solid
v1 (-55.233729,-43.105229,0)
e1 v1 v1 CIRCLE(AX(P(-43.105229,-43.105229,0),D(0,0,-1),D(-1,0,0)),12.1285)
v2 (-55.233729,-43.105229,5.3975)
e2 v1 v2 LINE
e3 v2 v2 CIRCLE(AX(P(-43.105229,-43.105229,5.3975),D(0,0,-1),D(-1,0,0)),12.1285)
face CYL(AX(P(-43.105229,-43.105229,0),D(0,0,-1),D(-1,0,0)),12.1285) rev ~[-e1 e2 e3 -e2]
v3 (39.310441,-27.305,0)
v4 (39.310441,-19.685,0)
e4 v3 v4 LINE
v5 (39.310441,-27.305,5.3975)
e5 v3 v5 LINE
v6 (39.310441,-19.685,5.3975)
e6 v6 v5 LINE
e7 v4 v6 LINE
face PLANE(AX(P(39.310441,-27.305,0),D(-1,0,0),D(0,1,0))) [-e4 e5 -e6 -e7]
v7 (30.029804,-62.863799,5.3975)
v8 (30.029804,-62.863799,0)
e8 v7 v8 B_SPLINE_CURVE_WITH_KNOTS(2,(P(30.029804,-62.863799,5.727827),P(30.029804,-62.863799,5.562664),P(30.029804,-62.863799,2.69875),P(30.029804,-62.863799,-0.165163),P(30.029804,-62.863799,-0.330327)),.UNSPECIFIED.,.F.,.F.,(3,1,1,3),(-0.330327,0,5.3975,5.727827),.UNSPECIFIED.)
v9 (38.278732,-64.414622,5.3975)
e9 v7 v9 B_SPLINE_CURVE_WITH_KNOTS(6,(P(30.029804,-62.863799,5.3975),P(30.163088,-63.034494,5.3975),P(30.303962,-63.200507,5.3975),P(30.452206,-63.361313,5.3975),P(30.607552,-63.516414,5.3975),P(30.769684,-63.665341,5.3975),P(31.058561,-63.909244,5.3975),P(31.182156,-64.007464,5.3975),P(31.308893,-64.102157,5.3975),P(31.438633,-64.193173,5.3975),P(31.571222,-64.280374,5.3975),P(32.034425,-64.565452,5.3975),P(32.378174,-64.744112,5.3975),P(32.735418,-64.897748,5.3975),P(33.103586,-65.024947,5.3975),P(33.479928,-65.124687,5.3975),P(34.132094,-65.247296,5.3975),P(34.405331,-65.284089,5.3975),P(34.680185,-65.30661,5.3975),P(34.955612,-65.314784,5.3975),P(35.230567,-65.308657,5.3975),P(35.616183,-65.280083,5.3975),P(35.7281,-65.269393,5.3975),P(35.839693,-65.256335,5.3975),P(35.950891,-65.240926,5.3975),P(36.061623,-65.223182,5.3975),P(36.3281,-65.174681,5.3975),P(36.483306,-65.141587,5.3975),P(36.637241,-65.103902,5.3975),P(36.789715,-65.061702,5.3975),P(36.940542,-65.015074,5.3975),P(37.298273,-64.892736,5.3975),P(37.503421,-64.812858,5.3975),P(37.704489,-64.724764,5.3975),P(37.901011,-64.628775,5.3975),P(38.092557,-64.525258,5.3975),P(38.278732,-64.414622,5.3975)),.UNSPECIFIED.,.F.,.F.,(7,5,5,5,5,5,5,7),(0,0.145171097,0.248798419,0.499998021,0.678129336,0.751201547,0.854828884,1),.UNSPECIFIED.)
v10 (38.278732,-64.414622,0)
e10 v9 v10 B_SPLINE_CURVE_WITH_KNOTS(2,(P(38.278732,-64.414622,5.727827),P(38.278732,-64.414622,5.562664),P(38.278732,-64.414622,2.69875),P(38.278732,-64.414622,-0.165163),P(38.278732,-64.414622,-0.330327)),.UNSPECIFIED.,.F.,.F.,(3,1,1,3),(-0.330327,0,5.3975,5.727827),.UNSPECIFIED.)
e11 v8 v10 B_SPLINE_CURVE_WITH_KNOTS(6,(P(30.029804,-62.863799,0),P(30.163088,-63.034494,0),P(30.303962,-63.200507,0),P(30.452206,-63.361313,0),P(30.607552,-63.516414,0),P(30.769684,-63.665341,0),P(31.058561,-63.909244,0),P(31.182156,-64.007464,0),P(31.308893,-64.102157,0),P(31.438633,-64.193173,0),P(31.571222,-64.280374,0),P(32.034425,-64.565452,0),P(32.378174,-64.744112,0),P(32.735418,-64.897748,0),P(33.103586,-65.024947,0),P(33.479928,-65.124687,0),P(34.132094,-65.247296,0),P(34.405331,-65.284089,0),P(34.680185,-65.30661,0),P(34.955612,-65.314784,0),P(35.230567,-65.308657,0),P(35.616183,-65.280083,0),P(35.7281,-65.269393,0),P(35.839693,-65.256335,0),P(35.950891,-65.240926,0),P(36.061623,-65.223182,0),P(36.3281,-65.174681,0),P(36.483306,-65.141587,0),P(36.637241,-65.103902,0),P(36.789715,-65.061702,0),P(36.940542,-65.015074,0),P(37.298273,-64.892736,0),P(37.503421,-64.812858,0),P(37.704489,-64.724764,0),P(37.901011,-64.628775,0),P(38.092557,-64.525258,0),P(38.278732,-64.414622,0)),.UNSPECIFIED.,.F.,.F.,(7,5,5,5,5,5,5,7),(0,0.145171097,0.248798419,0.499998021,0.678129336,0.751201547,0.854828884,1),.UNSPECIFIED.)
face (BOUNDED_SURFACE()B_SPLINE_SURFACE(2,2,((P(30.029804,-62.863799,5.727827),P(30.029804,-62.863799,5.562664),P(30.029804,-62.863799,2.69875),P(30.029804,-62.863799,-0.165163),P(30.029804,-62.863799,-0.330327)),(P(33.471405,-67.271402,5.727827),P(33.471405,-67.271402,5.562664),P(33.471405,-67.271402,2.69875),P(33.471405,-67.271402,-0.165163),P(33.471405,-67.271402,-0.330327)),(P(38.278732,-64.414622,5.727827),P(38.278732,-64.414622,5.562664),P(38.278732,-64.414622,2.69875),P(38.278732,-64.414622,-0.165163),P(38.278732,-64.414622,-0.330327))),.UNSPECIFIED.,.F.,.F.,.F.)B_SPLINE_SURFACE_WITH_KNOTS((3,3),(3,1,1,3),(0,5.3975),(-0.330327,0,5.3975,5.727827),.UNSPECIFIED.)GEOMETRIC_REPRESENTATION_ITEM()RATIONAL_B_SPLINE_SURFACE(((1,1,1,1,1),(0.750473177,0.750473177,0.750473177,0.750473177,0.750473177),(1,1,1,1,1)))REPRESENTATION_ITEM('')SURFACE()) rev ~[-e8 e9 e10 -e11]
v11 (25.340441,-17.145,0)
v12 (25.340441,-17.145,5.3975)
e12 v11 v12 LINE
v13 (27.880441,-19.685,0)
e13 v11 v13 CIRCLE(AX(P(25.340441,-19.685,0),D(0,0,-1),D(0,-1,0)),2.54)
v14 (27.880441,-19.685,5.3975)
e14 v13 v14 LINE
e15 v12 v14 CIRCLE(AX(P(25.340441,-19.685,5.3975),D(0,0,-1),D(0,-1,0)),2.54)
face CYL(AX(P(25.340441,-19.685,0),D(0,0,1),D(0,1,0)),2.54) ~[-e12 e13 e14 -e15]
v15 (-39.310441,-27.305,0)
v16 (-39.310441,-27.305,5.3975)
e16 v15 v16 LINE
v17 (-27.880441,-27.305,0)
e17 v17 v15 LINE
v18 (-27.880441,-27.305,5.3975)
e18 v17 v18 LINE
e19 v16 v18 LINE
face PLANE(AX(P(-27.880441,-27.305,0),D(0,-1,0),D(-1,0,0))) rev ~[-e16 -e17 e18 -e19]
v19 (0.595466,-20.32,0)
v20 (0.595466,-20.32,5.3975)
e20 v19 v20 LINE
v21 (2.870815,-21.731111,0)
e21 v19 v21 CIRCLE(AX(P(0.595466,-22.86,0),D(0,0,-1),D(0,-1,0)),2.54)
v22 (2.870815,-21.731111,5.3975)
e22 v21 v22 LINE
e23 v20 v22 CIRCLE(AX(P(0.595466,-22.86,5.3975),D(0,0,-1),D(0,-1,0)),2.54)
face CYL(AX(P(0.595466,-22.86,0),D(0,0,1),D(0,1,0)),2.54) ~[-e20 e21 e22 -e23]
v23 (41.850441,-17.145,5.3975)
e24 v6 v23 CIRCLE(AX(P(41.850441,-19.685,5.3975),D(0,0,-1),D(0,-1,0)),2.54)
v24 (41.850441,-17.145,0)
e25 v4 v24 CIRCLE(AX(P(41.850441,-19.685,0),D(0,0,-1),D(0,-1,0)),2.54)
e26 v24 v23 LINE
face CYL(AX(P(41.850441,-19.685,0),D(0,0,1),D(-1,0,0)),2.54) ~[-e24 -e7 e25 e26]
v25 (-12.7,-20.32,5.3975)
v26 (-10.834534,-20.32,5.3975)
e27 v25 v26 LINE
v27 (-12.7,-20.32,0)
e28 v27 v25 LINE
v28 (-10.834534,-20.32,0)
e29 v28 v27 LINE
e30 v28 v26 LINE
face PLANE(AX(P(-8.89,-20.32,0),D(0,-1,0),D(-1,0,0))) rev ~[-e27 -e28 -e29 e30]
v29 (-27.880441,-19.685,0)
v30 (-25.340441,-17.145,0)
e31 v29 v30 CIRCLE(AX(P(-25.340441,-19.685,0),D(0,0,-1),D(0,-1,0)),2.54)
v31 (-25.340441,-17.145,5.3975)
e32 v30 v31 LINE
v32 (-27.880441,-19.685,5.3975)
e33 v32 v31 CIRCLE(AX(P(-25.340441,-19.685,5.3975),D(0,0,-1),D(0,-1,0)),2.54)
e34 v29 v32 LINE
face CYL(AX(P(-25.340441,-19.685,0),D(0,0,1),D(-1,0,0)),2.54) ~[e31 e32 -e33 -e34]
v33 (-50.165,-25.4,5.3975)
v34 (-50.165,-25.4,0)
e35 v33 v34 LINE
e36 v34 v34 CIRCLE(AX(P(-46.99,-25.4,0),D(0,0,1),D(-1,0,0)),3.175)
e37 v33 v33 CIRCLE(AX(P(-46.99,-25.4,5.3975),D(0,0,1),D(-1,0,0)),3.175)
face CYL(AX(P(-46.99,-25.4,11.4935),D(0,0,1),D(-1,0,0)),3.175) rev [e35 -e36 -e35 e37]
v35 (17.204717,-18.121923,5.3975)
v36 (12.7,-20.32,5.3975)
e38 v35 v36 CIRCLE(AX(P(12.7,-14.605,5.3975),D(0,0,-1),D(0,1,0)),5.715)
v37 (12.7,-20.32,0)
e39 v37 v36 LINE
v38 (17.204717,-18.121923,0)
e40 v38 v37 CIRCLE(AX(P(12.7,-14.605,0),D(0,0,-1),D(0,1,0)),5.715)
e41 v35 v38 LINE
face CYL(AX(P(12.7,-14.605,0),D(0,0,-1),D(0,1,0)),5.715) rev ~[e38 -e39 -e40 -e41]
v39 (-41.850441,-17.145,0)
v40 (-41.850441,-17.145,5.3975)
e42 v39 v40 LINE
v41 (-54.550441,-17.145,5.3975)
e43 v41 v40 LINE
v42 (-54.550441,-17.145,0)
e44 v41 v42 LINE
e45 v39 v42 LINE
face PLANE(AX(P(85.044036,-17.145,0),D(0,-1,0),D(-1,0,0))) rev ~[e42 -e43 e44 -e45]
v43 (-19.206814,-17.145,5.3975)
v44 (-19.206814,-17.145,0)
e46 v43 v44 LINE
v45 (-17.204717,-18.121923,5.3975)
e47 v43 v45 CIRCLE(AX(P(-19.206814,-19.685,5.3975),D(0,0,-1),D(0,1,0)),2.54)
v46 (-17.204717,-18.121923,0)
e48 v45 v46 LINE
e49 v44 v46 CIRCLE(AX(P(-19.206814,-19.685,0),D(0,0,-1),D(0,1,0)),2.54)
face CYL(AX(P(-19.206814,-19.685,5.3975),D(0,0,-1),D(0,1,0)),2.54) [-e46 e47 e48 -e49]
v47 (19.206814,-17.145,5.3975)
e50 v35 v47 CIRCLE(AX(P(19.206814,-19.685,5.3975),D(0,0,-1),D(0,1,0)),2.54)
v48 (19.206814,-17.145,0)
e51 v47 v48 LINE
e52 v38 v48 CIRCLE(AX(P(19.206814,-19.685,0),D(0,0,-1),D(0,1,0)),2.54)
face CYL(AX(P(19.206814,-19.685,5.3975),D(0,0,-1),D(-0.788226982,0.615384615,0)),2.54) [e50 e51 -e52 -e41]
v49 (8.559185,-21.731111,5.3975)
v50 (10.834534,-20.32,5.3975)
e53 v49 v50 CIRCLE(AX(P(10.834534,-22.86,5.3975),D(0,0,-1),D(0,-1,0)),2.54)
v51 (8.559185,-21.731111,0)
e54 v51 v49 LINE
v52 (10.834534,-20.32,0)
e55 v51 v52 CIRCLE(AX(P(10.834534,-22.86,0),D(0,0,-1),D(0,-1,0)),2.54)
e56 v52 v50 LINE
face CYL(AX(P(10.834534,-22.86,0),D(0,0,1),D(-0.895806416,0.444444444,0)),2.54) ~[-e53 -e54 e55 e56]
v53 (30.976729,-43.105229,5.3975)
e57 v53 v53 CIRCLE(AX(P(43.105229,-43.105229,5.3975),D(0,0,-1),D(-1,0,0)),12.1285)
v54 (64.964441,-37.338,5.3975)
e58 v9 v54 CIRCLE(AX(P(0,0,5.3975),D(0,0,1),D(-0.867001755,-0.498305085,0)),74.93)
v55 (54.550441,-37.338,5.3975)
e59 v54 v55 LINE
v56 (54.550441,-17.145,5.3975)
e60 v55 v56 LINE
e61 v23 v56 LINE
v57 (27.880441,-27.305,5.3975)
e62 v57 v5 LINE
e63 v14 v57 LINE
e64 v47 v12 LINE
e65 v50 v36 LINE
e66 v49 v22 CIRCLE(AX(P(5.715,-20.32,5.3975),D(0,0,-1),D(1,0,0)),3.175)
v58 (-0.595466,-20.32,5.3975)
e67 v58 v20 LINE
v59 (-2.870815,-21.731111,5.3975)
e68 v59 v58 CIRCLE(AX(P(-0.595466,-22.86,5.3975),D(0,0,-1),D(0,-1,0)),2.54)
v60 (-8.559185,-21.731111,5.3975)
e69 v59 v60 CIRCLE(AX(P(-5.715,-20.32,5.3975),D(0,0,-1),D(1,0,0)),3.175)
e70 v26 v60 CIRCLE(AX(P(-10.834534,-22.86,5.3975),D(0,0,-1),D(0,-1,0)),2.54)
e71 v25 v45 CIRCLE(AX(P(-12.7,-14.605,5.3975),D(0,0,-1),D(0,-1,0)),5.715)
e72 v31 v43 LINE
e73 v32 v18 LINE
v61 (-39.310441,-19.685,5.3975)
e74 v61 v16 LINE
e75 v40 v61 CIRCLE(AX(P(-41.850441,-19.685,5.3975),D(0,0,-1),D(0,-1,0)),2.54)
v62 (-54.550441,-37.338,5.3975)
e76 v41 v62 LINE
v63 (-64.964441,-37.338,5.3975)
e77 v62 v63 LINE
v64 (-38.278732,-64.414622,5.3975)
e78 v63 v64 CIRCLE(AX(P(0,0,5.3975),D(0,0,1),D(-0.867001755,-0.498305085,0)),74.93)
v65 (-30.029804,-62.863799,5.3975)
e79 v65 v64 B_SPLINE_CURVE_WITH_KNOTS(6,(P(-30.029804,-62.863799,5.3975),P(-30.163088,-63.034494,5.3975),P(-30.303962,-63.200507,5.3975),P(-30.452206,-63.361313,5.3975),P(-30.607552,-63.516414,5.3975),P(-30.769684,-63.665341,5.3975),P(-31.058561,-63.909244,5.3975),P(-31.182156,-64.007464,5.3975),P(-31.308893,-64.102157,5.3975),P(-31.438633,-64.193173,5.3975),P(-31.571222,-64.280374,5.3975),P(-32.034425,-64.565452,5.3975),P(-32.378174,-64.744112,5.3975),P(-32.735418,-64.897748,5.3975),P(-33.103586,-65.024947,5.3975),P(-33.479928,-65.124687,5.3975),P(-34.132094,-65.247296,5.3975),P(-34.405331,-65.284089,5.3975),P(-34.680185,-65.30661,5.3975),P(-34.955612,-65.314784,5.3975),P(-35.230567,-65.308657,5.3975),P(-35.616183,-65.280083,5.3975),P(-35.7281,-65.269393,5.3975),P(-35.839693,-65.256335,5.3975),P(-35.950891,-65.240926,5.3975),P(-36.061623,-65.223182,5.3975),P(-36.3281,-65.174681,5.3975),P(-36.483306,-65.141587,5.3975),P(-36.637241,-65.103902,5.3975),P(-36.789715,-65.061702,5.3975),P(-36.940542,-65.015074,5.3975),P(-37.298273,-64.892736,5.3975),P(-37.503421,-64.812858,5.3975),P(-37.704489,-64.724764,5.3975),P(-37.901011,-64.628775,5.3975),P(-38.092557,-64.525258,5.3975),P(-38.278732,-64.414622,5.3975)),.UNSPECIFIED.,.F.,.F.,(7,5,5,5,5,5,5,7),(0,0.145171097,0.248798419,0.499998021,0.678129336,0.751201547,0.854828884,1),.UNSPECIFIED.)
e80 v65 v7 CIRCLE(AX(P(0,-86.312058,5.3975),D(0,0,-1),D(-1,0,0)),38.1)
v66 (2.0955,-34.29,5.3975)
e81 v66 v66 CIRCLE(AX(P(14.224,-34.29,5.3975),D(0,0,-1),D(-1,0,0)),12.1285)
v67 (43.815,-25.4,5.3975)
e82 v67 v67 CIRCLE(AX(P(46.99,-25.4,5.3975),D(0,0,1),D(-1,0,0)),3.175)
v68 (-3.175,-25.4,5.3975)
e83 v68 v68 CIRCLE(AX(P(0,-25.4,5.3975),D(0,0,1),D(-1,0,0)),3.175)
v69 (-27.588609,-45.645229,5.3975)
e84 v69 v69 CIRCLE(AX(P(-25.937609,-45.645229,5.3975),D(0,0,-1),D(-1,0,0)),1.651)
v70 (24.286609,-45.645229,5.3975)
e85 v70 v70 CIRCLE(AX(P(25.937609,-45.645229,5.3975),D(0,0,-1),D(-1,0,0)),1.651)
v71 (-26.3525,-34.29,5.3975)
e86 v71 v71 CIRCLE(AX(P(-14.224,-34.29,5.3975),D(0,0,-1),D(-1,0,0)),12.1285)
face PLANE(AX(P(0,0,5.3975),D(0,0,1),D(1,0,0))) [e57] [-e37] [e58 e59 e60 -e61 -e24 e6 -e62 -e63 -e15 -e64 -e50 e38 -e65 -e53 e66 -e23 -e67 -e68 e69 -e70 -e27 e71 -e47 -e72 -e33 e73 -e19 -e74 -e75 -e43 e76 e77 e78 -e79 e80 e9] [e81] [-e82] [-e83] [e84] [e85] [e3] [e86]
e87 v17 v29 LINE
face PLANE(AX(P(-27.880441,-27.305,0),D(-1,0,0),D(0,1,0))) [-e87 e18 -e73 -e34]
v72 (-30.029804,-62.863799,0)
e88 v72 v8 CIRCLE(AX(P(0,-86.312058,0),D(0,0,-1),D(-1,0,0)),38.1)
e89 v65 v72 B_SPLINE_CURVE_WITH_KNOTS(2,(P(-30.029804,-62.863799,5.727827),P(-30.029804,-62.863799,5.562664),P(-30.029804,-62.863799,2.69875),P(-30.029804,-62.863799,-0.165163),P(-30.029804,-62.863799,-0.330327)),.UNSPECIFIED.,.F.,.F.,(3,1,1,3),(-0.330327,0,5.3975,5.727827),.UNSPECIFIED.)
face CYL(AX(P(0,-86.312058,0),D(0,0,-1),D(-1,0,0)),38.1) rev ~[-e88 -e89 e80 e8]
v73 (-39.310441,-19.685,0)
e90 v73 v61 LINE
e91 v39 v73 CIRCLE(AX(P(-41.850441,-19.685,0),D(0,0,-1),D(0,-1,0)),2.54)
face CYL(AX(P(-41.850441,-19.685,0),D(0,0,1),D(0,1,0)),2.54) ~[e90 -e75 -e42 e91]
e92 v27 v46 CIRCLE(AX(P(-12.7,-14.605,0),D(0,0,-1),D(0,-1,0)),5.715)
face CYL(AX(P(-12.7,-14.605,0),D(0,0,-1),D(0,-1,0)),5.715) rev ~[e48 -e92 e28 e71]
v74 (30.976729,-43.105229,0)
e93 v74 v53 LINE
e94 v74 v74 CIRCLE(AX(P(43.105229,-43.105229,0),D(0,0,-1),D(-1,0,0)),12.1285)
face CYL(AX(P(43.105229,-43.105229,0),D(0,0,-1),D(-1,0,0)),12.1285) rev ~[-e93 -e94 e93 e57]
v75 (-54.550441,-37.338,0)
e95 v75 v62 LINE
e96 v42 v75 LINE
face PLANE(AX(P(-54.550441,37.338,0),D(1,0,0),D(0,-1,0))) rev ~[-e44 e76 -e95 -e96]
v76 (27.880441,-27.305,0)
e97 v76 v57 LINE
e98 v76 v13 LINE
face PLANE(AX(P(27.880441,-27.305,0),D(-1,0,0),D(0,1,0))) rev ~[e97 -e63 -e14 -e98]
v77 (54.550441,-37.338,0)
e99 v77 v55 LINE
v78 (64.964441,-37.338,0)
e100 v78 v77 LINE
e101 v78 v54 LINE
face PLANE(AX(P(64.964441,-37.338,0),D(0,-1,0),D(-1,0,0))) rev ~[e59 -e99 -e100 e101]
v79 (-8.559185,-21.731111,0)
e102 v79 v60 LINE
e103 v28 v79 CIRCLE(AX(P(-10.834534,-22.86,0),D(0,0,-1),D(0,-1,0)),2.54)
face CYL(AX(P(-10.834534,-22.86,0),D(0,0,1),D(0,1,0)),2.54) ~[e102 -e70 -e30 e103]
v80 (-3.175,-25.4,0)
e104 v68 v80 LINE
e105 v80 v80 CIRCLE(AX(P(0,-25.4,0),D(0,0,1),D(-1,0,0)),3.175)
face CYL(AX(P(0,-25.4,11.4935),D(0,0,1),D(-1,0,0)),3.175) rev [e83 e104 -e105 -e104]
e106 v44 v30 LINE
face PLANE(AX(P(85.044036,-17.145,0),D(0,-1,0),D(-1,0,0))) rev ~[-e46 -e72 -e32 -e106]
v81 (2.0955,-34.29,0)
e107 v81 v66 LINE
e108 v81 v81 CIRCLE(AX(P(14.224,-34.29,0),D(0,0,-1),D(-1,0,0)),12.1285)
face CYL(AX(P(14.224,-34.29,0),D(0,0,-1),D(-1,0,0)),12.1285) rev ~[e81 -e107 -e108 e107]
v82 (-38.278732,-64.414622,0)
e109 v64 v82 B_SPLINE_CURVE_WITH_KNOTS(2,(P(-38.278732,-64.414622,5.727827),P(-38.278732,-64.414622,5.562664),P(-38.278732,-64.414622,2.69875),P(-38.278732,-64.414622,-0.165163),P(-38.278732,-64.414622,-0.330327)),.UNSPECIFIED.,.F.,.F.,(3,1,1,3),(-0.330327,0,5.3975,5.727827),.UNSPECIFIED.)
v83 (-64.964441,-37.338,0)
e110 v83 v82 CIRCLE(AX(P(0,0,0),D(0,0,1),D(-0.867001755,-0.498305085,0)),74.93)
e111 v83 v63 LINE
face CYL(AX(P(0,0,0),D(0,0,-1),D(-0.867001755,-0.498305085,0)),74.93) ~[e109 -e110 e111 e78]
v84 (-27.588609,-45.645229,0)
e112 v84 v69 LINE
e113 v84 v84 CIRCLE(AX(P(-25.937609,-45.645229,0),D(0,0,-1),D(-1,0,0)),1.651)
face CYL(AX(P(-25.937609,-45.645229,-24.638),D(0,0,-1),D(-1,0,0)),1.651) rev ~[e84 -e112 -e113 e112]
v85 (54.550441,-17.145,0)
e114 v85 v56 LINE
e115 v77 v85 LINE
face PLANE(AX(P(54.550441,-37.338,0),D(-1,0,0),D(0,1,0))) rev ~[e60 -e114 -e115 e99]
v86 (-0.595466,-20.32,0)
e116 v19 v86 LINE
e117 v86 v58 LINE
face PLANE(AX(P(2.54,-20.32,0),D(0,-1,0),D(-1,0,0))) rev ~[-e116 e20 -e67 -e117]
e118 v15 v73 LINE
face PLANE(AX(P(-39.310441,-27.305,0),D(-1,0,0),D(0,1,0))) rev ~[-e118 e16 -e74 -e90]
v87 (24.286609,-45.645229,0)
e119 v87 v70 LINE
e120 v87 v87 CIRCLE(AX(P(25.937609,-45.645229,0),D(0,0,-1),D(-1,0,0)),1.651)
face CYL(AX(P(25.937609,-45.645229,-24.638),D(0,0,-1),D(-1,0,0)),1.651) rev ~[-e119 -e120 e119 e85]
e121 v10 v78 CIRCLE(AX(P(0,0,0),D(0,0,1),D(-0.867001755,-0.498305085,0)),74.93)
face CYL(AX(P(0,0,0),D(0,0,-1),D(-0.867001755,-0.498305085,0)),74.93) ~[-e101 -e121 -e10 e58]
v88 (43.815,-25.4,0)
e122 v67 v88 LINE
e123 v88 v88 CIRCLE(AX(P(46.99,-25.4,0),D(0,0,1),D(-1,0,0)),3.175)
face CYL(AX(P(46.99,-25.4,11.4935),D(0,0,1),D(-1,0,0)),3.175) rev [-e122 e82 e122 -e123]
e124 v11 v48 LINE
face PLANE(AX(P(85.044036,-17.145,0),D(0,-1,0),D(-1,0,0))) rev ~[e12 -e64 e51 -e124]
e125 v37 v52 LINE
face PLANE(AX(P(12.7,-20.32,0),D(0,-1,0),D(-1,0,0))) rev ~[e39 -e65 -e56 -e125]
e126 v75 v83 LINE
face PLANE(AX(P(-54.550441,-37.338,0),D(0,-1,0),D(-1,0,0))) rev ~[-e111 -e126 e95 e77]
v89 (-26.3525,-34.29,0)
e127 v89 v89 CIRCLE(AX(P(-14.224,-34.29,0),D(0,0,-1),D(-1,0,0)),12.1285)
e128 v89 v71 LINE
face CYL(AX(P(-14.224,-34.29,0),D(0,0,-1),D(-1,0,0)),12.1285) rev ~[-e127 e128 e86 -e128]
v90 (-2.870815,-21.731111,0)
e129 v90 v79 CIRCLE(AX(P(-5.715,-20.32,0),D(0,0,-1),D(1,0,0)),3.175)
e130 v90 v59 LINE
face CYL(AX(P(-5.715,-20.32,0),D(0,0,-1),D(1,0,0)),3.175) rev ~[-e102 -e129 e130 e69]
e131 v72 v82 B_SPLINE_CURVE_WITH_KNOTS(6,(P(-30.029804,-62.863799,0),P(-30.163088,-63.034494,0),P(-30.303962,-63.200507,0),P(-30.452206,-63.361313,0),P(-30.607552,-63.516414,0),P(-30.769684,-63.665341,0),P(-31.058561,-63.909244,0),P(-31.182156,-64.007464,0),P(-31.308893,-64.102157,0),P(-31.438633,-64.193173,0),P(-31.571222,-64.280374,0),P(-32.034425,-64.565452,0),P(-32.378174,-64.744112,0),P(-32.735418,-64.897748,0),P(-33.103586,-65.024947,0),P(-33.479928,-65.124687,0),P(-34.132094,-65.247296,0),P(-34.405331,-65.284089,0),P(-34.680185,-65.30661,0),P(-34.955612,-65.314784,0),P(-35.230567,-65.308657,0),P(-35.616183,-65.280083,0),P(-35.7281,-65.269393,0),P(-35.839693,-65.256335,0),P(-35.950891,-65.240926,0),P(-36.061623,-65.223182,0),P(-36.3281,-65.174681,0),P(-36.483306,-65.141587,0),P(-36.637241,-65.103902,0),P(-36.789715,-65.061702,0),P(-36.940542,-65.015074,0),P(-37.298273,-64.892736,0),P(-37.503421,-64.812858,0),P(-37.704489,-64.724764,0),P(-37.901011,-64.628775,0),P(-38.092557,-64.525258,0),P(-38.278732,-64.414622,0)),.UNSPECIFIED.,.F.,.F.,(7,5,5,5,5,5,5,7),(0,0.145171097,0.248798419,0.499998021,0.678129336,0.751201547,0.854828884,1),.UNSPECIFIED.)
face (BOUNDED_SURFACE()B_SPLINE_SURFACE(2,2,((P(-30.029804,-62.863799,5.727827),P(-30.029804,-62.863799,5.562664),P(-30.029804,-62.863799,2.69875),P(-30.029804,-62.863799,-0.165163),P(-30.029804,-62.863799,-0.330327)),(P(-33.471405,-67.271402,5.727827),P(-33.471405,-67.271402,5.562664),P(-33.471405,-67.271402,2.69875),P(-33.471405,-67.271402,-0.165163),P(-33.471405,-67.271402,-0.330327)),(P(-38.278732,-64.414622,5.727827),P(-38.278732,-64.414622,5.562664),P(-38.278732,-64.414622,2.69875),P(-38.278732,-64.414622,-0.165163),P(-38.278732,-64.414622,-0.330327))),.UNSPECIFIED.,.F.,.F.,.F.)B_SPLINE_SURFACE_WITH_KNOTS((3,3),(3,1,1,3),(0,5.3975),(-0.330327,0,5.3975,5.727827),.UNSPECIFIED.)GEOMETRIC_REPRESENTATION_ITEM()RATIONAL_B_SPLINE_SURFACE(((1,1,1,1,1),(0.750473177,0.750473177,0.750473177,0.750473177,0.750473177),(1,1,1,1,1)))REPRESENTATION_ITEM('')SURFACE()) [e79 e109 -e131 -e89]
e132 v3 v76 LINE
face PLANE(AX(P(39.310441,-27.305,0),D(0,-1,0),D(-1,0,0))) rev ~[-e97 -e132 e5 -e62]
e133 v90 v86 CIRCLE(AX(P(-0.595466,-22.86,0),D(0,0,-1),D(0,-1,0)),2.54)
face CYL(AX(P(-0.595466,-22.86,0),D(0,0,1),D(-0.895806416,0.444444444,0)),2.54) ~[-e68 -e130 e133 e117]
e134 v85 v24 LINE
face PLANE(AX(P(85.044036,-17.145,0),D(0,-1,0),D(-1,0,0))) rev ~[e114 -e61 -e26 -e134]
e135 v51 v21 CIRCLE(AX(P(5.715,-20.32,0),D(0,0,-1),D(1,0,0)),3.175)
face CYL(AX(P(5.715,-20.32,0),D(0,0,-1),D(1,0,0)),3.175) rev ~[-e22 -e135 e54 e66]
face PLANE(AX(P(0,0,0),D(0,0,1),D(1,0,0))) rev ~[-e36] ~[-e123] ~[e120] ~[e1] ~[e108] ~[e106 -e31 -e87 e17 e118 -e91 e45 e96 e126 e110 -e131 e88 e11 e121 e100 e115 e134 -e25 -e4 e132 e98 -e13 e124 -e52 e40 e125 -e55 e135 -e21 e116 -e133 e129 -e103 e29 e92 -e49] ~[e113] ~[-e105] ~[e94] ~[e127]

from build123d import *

# Parameters (mm, degrees)
SKETCH1_R                 = 1.651
BOSS_EXTRUDE2_DEPTH       = 5.3975
SKETCH2_R                 = 1.143
CUT_EXTRUDE1_DEPTH        = 6.3975
SKETCH3_R                 = 12.1285
CUT_EXTRUDE2_DEPTH        = 6.3975
SKETCH4_W                 = 28.562713242
SKETCH4_H                 = 11.677503754
BOSS_EXTRUDE3_DEPTH       = 5.3975
SKETCH5_W                 = 216.7214489
SKETCH5_H                 = 130.569220634
CUT_EXTRUDE4_DEPTH        = 6.3975
SKETCH6_R                 = 38.1
CUT_EXTRUDE5_DEPTH        = 60.96
FILLET1_R                 = 6.35
FILLET2_R                 = 6.35
SKETCH102_W               = 11.43
SKETCH102_H               = 10.16
CUT_EXTRUDE101_DEPTH      = 6.3975001
SKETCH158_R               = 1.651
CUT_EXTRUDE157_DEPTH      = 97.79
SKETCH212_R               = 3.175
CUT_EXTRUDE211_DEPTH      = 103.378
CUT_EXTRUDE211_DEPTH_BACK = 48.768
CUT_EXTRUDE104_DEPTH      = 10
FILLET3_R                 = 2.54


with BuildPart() as part:
    # Sketch1 → Boss-Extrude2 (new body)
    with BuildSketch(Plane.XY):
        with BuildLine():
            Line((-64.964441474, 37.338), (-54.550441474, 37.338))
            Line((-54.550441474, 37.338), (-54.550441474, -37.338))
            Line((-54.550441474, -37.338), (-64.964441474, -37.338))
            ThreePointArc((-64.964441474, -37.338), (0, -74.93), (64.964441474, -37.338))
            Line((64.964441474, -37.338), (54.550441474, -37.338))
            Line((54.550441474, -37.338), (54.550441474, 37.338))
            Line((54.550441474, 37.338), (64.964441474, 37.338))
            ThreePointArc((64.964441474, 37.338), (0, 74.93), (-64.964441474, 37.338))
        make_face()
        with Locations((-46.482, 11.049)):
            Circle(SKETCH1_R, mode=Mode.SUBTRACT)
        with Locations((-21.083270032, 10.795)):
            Circle(SKETCH1_R, mode=Mode.SUBTRACT)
        with Locations((-21.083270032, -10.795)):
            Circle(SKETCH1_R, mode=Mode.SUBTRACT)
        with Locations((-46.482, -11.049)):
            Circle(SKETCH1_R, mode=Mode.SUBTRACT)
        with Locations((46.482, -11.049)):
            Circle(SKETCH1_R, mode=Mode.SUBTRACT)
        with Locations((21.083270032, -10.795)):
            Circle(SKETCH1_R, mode=Mode.SUBTRACT)
        with Locations((21.083270032, 10.795)):
            Circle(SKETCH1_R, mode=Mode.SUBTRACT)
        with Locations((46.482, 11.049)):
            Circle(SKETCH1_R, mode=Mode.SUBTRACT)
    extrude(amount=BOSS_EXTRUDE2_DEPTH)

    # Sketch2 → Cut-Extrude1 (cut, through all)
    with BuildSketch(Plane.XY.offset(5.3975)):
        with Locations((-6.731, 62.23)):
            Circle(SKETCH2_R)
        with Locations((6.731, 62.23)):
            Circle(SKETCH2_R)
    extrude(amount=-CUT_EXTRUDE1_DEPTH, mode=Mode.SUBTRACT)

    # Sketch3 → Cut-Extrude2 (cut, through all)
    with BuildSketch(Plane(origin=(0, 0, 0), x_dir=(-1, 0, 0), z_dir=(0, 0, -1))):
        with Locations((-43.105229381, -43.105229381)):
            Circle(SKETCH3_R)
        with Locations((14.224, -34.29)):
            Circle(SKETCH3_R)
        with Locations((14.224, 34.29)):
            Circle(SKETCH3_R)
        with Locations((-43.105229381, 43.105229381)):
            Circle(SKETCH3_R)
        with Locations((43.105229381, 43.105229381)):
            Circle(SKETCH3_R)
        with Locations((-14.224, 34.29)):
            Circle(SKETCH3_R)
        with Locations((-14.224, -34.29)):
            Circle(SKETCH3_R)
        with Locations((43.105229381, -43.105229381)):
            Circle(SKETCH3_R)
    extrude(amount=-CUT_EXTRUDE2_DEPTH, mode=Mode.SUBTRACT)

    # Sketch4 → Boss-Extrude3 (add)
    with BuildSketch(Plane(origin=(0, 0, 0), x_dir=(-1, 0, 0), z_dir=(0, 0, -1))):
        with Locations((-1.488809975, 62.152540216)):
            Rectangle(SKETCH4_W, SKETCH4_H)
    extrude(amount=-BOSS_EXTRUDE3_DEPTH)

    # Sketch5 → Cut-Extrude4 (cut, through all)
    with BuildSketch(Plane(origin=(0, 0, 0), x_dir=(-1, 0, 0), z_dir=(0, 0, -1))):
        with Locations((23.316688373, 48.139610317)):
            Rectangle(SKETCH5_W, SKETCH5_H)
    extrude(amount=-CUT_EXTRUDE4_DEPTH, mode=Mode.SUBTRACT)

    # Sketch6 → Cut-Extrude5 (cut)
    with BuildSketch(Plane(origin=(0, 0, 0), x_dir=(-1, 0, 0), z_dir=(0, 0, -1))):
        with Locations((0, -86.312058398)):
            Circle(SKETCH6_R)
    extrude(amount=-CUT_EXTRUDE5_DEPTH, mode=Mode.SUBTRACT)

    # Fillet1
    fillet1_edges = [part.edges().sort_by_distance(p)[0] for p in [
        (-33.000960548, -67.271401821, 2.69875),
    ]]
    fillet(fillet1_edges, radius=FILLET1_R)

    # Fillet2
    fillet2_edges = [part.edges().sort_by_distance(p)[0] for p in [
        (33.000960548, -67.271401821, 2.69875),
    ]]
    fillet(fillet2_edges, radius=FILLET2_R)

    # Sketch102 → Cut-Extrude101 (cut, through all)
    with BuildSketch(Plane(origin=(0, 0, 0), x_dir=(-1, 0, 0), z_dir=(0, 0, -1))):
        with Locations((-33.595441474, -22.225)):
            Rectangle(SKETCH102_W, SKETCH102_H)
        with Locations((33.595441474, -22.225)):
            Rectangle(SKETCH102_W, SKETCH102_H)
    extrude(amount=-CUT_EXTRUDE101_DEPTH, mode=Mode.SUBTRACT)

    # Sketch158 → Cut-Extrude157 (cut)
    with BuildSketch(Plane(origin=(30.092005081, 4.08352975, -24.638), x_dir=(-1, 0, 0), z_dir=(0, 0, -1))):
        with Locations((4.154396091, -49.728759131)):
            Circle(SKETCH158_R)
        with Locations((56.02961407, -49.728759131)):
            Circle(SKETCH158_R)
    extrude(amount=-CUT_EXTRUDE157_DEPTH, mode=Mode.SUBTRACT)

    # Sketch212 → Cut-Extrude211 (cut, two sides)
    with BuildSketch(Plane(origin=(30.092005081, 4.08352975, 11.4935), x_dir=(-1, 0, 0), z_dir=(0, 0, -1))) as cut_extrude211_sk:
        with Locations((77.082005081, -29.48352975)):
            Circle(SKETCH212_R)
        with Locations((30.092005081, -29.48352975)):
            Circle(SKETCH212_R)
        with Locations((-16.897994919, -29.48352975)):
            Circle(SKETCH212_R)
    extrude(amount=CUT_EXTRUDE211_DEPTH, mode=Mode.SUBTRACT)
    extrude(cut_extrude211_sk.sketch, amount=-CUT_EXTRUDE211_DEPTH_BACK, mode=Mode.SUBTRACT)

    # Sketch105 → Cut-Extrude104 (cut)
    with BuildSketch(Plane(origin=(0, 0, 0), x_dir=(-1, 0, 0), z_dir=(0, 0, -1))):
        with BuildLine():
            Line((-12.7, -20.32), (-8.89, -20.32))
            ThreePointArc((-8.89, -20.32), (-5.715, -23.495), (-2.54, -20.32))
            Line((-2.54, -20.32), (2.54, -20.32))
            ThreePointArc((2.54, -20.32), (5.715, -23.495), (8.89, -20.32))
            Line((8.89, -20.32), (12.7, -20.32))
            ThreePointArc((12.7, -20.32), (18.415, -14.605), (12.7, -8.89))
            Line((12.7, -8.89), (-12.7, -8.89))
            ThreePointArc((-12.7, -8.89), (-18.415, -14.605), (-12.7, -20.32))
        make_face()
    extrude(amount=-CUT_EXTRUDE104_DEPTH, mode=Mode.SUBTRACT)

    # Fillet3
    fillet3_edges = [part.edges().sort_by_distance(p)[0] for p in [
        (39.310441474, -17.145, 2.69875),
        (27.880441474, -17.145, 2.69875),
        (-27.880441474, -17.145, 2.69875),
        (-39.310441474, -17.145, 2.69875),
        (17.81953367, -17.145, 2.69875),
        (-17.81953367, -17.145, 2.69875),
        (-8.89, -20.32, 2.69875),
        (-2.54, -20.32, 2.69875),
        (2.54, -20.32, 2.69875),
        (8.89, -20.32, 2.69875),
    ]]
    fillet(fillet3_edges, radius=FILLET3_R)


solid = part.part
